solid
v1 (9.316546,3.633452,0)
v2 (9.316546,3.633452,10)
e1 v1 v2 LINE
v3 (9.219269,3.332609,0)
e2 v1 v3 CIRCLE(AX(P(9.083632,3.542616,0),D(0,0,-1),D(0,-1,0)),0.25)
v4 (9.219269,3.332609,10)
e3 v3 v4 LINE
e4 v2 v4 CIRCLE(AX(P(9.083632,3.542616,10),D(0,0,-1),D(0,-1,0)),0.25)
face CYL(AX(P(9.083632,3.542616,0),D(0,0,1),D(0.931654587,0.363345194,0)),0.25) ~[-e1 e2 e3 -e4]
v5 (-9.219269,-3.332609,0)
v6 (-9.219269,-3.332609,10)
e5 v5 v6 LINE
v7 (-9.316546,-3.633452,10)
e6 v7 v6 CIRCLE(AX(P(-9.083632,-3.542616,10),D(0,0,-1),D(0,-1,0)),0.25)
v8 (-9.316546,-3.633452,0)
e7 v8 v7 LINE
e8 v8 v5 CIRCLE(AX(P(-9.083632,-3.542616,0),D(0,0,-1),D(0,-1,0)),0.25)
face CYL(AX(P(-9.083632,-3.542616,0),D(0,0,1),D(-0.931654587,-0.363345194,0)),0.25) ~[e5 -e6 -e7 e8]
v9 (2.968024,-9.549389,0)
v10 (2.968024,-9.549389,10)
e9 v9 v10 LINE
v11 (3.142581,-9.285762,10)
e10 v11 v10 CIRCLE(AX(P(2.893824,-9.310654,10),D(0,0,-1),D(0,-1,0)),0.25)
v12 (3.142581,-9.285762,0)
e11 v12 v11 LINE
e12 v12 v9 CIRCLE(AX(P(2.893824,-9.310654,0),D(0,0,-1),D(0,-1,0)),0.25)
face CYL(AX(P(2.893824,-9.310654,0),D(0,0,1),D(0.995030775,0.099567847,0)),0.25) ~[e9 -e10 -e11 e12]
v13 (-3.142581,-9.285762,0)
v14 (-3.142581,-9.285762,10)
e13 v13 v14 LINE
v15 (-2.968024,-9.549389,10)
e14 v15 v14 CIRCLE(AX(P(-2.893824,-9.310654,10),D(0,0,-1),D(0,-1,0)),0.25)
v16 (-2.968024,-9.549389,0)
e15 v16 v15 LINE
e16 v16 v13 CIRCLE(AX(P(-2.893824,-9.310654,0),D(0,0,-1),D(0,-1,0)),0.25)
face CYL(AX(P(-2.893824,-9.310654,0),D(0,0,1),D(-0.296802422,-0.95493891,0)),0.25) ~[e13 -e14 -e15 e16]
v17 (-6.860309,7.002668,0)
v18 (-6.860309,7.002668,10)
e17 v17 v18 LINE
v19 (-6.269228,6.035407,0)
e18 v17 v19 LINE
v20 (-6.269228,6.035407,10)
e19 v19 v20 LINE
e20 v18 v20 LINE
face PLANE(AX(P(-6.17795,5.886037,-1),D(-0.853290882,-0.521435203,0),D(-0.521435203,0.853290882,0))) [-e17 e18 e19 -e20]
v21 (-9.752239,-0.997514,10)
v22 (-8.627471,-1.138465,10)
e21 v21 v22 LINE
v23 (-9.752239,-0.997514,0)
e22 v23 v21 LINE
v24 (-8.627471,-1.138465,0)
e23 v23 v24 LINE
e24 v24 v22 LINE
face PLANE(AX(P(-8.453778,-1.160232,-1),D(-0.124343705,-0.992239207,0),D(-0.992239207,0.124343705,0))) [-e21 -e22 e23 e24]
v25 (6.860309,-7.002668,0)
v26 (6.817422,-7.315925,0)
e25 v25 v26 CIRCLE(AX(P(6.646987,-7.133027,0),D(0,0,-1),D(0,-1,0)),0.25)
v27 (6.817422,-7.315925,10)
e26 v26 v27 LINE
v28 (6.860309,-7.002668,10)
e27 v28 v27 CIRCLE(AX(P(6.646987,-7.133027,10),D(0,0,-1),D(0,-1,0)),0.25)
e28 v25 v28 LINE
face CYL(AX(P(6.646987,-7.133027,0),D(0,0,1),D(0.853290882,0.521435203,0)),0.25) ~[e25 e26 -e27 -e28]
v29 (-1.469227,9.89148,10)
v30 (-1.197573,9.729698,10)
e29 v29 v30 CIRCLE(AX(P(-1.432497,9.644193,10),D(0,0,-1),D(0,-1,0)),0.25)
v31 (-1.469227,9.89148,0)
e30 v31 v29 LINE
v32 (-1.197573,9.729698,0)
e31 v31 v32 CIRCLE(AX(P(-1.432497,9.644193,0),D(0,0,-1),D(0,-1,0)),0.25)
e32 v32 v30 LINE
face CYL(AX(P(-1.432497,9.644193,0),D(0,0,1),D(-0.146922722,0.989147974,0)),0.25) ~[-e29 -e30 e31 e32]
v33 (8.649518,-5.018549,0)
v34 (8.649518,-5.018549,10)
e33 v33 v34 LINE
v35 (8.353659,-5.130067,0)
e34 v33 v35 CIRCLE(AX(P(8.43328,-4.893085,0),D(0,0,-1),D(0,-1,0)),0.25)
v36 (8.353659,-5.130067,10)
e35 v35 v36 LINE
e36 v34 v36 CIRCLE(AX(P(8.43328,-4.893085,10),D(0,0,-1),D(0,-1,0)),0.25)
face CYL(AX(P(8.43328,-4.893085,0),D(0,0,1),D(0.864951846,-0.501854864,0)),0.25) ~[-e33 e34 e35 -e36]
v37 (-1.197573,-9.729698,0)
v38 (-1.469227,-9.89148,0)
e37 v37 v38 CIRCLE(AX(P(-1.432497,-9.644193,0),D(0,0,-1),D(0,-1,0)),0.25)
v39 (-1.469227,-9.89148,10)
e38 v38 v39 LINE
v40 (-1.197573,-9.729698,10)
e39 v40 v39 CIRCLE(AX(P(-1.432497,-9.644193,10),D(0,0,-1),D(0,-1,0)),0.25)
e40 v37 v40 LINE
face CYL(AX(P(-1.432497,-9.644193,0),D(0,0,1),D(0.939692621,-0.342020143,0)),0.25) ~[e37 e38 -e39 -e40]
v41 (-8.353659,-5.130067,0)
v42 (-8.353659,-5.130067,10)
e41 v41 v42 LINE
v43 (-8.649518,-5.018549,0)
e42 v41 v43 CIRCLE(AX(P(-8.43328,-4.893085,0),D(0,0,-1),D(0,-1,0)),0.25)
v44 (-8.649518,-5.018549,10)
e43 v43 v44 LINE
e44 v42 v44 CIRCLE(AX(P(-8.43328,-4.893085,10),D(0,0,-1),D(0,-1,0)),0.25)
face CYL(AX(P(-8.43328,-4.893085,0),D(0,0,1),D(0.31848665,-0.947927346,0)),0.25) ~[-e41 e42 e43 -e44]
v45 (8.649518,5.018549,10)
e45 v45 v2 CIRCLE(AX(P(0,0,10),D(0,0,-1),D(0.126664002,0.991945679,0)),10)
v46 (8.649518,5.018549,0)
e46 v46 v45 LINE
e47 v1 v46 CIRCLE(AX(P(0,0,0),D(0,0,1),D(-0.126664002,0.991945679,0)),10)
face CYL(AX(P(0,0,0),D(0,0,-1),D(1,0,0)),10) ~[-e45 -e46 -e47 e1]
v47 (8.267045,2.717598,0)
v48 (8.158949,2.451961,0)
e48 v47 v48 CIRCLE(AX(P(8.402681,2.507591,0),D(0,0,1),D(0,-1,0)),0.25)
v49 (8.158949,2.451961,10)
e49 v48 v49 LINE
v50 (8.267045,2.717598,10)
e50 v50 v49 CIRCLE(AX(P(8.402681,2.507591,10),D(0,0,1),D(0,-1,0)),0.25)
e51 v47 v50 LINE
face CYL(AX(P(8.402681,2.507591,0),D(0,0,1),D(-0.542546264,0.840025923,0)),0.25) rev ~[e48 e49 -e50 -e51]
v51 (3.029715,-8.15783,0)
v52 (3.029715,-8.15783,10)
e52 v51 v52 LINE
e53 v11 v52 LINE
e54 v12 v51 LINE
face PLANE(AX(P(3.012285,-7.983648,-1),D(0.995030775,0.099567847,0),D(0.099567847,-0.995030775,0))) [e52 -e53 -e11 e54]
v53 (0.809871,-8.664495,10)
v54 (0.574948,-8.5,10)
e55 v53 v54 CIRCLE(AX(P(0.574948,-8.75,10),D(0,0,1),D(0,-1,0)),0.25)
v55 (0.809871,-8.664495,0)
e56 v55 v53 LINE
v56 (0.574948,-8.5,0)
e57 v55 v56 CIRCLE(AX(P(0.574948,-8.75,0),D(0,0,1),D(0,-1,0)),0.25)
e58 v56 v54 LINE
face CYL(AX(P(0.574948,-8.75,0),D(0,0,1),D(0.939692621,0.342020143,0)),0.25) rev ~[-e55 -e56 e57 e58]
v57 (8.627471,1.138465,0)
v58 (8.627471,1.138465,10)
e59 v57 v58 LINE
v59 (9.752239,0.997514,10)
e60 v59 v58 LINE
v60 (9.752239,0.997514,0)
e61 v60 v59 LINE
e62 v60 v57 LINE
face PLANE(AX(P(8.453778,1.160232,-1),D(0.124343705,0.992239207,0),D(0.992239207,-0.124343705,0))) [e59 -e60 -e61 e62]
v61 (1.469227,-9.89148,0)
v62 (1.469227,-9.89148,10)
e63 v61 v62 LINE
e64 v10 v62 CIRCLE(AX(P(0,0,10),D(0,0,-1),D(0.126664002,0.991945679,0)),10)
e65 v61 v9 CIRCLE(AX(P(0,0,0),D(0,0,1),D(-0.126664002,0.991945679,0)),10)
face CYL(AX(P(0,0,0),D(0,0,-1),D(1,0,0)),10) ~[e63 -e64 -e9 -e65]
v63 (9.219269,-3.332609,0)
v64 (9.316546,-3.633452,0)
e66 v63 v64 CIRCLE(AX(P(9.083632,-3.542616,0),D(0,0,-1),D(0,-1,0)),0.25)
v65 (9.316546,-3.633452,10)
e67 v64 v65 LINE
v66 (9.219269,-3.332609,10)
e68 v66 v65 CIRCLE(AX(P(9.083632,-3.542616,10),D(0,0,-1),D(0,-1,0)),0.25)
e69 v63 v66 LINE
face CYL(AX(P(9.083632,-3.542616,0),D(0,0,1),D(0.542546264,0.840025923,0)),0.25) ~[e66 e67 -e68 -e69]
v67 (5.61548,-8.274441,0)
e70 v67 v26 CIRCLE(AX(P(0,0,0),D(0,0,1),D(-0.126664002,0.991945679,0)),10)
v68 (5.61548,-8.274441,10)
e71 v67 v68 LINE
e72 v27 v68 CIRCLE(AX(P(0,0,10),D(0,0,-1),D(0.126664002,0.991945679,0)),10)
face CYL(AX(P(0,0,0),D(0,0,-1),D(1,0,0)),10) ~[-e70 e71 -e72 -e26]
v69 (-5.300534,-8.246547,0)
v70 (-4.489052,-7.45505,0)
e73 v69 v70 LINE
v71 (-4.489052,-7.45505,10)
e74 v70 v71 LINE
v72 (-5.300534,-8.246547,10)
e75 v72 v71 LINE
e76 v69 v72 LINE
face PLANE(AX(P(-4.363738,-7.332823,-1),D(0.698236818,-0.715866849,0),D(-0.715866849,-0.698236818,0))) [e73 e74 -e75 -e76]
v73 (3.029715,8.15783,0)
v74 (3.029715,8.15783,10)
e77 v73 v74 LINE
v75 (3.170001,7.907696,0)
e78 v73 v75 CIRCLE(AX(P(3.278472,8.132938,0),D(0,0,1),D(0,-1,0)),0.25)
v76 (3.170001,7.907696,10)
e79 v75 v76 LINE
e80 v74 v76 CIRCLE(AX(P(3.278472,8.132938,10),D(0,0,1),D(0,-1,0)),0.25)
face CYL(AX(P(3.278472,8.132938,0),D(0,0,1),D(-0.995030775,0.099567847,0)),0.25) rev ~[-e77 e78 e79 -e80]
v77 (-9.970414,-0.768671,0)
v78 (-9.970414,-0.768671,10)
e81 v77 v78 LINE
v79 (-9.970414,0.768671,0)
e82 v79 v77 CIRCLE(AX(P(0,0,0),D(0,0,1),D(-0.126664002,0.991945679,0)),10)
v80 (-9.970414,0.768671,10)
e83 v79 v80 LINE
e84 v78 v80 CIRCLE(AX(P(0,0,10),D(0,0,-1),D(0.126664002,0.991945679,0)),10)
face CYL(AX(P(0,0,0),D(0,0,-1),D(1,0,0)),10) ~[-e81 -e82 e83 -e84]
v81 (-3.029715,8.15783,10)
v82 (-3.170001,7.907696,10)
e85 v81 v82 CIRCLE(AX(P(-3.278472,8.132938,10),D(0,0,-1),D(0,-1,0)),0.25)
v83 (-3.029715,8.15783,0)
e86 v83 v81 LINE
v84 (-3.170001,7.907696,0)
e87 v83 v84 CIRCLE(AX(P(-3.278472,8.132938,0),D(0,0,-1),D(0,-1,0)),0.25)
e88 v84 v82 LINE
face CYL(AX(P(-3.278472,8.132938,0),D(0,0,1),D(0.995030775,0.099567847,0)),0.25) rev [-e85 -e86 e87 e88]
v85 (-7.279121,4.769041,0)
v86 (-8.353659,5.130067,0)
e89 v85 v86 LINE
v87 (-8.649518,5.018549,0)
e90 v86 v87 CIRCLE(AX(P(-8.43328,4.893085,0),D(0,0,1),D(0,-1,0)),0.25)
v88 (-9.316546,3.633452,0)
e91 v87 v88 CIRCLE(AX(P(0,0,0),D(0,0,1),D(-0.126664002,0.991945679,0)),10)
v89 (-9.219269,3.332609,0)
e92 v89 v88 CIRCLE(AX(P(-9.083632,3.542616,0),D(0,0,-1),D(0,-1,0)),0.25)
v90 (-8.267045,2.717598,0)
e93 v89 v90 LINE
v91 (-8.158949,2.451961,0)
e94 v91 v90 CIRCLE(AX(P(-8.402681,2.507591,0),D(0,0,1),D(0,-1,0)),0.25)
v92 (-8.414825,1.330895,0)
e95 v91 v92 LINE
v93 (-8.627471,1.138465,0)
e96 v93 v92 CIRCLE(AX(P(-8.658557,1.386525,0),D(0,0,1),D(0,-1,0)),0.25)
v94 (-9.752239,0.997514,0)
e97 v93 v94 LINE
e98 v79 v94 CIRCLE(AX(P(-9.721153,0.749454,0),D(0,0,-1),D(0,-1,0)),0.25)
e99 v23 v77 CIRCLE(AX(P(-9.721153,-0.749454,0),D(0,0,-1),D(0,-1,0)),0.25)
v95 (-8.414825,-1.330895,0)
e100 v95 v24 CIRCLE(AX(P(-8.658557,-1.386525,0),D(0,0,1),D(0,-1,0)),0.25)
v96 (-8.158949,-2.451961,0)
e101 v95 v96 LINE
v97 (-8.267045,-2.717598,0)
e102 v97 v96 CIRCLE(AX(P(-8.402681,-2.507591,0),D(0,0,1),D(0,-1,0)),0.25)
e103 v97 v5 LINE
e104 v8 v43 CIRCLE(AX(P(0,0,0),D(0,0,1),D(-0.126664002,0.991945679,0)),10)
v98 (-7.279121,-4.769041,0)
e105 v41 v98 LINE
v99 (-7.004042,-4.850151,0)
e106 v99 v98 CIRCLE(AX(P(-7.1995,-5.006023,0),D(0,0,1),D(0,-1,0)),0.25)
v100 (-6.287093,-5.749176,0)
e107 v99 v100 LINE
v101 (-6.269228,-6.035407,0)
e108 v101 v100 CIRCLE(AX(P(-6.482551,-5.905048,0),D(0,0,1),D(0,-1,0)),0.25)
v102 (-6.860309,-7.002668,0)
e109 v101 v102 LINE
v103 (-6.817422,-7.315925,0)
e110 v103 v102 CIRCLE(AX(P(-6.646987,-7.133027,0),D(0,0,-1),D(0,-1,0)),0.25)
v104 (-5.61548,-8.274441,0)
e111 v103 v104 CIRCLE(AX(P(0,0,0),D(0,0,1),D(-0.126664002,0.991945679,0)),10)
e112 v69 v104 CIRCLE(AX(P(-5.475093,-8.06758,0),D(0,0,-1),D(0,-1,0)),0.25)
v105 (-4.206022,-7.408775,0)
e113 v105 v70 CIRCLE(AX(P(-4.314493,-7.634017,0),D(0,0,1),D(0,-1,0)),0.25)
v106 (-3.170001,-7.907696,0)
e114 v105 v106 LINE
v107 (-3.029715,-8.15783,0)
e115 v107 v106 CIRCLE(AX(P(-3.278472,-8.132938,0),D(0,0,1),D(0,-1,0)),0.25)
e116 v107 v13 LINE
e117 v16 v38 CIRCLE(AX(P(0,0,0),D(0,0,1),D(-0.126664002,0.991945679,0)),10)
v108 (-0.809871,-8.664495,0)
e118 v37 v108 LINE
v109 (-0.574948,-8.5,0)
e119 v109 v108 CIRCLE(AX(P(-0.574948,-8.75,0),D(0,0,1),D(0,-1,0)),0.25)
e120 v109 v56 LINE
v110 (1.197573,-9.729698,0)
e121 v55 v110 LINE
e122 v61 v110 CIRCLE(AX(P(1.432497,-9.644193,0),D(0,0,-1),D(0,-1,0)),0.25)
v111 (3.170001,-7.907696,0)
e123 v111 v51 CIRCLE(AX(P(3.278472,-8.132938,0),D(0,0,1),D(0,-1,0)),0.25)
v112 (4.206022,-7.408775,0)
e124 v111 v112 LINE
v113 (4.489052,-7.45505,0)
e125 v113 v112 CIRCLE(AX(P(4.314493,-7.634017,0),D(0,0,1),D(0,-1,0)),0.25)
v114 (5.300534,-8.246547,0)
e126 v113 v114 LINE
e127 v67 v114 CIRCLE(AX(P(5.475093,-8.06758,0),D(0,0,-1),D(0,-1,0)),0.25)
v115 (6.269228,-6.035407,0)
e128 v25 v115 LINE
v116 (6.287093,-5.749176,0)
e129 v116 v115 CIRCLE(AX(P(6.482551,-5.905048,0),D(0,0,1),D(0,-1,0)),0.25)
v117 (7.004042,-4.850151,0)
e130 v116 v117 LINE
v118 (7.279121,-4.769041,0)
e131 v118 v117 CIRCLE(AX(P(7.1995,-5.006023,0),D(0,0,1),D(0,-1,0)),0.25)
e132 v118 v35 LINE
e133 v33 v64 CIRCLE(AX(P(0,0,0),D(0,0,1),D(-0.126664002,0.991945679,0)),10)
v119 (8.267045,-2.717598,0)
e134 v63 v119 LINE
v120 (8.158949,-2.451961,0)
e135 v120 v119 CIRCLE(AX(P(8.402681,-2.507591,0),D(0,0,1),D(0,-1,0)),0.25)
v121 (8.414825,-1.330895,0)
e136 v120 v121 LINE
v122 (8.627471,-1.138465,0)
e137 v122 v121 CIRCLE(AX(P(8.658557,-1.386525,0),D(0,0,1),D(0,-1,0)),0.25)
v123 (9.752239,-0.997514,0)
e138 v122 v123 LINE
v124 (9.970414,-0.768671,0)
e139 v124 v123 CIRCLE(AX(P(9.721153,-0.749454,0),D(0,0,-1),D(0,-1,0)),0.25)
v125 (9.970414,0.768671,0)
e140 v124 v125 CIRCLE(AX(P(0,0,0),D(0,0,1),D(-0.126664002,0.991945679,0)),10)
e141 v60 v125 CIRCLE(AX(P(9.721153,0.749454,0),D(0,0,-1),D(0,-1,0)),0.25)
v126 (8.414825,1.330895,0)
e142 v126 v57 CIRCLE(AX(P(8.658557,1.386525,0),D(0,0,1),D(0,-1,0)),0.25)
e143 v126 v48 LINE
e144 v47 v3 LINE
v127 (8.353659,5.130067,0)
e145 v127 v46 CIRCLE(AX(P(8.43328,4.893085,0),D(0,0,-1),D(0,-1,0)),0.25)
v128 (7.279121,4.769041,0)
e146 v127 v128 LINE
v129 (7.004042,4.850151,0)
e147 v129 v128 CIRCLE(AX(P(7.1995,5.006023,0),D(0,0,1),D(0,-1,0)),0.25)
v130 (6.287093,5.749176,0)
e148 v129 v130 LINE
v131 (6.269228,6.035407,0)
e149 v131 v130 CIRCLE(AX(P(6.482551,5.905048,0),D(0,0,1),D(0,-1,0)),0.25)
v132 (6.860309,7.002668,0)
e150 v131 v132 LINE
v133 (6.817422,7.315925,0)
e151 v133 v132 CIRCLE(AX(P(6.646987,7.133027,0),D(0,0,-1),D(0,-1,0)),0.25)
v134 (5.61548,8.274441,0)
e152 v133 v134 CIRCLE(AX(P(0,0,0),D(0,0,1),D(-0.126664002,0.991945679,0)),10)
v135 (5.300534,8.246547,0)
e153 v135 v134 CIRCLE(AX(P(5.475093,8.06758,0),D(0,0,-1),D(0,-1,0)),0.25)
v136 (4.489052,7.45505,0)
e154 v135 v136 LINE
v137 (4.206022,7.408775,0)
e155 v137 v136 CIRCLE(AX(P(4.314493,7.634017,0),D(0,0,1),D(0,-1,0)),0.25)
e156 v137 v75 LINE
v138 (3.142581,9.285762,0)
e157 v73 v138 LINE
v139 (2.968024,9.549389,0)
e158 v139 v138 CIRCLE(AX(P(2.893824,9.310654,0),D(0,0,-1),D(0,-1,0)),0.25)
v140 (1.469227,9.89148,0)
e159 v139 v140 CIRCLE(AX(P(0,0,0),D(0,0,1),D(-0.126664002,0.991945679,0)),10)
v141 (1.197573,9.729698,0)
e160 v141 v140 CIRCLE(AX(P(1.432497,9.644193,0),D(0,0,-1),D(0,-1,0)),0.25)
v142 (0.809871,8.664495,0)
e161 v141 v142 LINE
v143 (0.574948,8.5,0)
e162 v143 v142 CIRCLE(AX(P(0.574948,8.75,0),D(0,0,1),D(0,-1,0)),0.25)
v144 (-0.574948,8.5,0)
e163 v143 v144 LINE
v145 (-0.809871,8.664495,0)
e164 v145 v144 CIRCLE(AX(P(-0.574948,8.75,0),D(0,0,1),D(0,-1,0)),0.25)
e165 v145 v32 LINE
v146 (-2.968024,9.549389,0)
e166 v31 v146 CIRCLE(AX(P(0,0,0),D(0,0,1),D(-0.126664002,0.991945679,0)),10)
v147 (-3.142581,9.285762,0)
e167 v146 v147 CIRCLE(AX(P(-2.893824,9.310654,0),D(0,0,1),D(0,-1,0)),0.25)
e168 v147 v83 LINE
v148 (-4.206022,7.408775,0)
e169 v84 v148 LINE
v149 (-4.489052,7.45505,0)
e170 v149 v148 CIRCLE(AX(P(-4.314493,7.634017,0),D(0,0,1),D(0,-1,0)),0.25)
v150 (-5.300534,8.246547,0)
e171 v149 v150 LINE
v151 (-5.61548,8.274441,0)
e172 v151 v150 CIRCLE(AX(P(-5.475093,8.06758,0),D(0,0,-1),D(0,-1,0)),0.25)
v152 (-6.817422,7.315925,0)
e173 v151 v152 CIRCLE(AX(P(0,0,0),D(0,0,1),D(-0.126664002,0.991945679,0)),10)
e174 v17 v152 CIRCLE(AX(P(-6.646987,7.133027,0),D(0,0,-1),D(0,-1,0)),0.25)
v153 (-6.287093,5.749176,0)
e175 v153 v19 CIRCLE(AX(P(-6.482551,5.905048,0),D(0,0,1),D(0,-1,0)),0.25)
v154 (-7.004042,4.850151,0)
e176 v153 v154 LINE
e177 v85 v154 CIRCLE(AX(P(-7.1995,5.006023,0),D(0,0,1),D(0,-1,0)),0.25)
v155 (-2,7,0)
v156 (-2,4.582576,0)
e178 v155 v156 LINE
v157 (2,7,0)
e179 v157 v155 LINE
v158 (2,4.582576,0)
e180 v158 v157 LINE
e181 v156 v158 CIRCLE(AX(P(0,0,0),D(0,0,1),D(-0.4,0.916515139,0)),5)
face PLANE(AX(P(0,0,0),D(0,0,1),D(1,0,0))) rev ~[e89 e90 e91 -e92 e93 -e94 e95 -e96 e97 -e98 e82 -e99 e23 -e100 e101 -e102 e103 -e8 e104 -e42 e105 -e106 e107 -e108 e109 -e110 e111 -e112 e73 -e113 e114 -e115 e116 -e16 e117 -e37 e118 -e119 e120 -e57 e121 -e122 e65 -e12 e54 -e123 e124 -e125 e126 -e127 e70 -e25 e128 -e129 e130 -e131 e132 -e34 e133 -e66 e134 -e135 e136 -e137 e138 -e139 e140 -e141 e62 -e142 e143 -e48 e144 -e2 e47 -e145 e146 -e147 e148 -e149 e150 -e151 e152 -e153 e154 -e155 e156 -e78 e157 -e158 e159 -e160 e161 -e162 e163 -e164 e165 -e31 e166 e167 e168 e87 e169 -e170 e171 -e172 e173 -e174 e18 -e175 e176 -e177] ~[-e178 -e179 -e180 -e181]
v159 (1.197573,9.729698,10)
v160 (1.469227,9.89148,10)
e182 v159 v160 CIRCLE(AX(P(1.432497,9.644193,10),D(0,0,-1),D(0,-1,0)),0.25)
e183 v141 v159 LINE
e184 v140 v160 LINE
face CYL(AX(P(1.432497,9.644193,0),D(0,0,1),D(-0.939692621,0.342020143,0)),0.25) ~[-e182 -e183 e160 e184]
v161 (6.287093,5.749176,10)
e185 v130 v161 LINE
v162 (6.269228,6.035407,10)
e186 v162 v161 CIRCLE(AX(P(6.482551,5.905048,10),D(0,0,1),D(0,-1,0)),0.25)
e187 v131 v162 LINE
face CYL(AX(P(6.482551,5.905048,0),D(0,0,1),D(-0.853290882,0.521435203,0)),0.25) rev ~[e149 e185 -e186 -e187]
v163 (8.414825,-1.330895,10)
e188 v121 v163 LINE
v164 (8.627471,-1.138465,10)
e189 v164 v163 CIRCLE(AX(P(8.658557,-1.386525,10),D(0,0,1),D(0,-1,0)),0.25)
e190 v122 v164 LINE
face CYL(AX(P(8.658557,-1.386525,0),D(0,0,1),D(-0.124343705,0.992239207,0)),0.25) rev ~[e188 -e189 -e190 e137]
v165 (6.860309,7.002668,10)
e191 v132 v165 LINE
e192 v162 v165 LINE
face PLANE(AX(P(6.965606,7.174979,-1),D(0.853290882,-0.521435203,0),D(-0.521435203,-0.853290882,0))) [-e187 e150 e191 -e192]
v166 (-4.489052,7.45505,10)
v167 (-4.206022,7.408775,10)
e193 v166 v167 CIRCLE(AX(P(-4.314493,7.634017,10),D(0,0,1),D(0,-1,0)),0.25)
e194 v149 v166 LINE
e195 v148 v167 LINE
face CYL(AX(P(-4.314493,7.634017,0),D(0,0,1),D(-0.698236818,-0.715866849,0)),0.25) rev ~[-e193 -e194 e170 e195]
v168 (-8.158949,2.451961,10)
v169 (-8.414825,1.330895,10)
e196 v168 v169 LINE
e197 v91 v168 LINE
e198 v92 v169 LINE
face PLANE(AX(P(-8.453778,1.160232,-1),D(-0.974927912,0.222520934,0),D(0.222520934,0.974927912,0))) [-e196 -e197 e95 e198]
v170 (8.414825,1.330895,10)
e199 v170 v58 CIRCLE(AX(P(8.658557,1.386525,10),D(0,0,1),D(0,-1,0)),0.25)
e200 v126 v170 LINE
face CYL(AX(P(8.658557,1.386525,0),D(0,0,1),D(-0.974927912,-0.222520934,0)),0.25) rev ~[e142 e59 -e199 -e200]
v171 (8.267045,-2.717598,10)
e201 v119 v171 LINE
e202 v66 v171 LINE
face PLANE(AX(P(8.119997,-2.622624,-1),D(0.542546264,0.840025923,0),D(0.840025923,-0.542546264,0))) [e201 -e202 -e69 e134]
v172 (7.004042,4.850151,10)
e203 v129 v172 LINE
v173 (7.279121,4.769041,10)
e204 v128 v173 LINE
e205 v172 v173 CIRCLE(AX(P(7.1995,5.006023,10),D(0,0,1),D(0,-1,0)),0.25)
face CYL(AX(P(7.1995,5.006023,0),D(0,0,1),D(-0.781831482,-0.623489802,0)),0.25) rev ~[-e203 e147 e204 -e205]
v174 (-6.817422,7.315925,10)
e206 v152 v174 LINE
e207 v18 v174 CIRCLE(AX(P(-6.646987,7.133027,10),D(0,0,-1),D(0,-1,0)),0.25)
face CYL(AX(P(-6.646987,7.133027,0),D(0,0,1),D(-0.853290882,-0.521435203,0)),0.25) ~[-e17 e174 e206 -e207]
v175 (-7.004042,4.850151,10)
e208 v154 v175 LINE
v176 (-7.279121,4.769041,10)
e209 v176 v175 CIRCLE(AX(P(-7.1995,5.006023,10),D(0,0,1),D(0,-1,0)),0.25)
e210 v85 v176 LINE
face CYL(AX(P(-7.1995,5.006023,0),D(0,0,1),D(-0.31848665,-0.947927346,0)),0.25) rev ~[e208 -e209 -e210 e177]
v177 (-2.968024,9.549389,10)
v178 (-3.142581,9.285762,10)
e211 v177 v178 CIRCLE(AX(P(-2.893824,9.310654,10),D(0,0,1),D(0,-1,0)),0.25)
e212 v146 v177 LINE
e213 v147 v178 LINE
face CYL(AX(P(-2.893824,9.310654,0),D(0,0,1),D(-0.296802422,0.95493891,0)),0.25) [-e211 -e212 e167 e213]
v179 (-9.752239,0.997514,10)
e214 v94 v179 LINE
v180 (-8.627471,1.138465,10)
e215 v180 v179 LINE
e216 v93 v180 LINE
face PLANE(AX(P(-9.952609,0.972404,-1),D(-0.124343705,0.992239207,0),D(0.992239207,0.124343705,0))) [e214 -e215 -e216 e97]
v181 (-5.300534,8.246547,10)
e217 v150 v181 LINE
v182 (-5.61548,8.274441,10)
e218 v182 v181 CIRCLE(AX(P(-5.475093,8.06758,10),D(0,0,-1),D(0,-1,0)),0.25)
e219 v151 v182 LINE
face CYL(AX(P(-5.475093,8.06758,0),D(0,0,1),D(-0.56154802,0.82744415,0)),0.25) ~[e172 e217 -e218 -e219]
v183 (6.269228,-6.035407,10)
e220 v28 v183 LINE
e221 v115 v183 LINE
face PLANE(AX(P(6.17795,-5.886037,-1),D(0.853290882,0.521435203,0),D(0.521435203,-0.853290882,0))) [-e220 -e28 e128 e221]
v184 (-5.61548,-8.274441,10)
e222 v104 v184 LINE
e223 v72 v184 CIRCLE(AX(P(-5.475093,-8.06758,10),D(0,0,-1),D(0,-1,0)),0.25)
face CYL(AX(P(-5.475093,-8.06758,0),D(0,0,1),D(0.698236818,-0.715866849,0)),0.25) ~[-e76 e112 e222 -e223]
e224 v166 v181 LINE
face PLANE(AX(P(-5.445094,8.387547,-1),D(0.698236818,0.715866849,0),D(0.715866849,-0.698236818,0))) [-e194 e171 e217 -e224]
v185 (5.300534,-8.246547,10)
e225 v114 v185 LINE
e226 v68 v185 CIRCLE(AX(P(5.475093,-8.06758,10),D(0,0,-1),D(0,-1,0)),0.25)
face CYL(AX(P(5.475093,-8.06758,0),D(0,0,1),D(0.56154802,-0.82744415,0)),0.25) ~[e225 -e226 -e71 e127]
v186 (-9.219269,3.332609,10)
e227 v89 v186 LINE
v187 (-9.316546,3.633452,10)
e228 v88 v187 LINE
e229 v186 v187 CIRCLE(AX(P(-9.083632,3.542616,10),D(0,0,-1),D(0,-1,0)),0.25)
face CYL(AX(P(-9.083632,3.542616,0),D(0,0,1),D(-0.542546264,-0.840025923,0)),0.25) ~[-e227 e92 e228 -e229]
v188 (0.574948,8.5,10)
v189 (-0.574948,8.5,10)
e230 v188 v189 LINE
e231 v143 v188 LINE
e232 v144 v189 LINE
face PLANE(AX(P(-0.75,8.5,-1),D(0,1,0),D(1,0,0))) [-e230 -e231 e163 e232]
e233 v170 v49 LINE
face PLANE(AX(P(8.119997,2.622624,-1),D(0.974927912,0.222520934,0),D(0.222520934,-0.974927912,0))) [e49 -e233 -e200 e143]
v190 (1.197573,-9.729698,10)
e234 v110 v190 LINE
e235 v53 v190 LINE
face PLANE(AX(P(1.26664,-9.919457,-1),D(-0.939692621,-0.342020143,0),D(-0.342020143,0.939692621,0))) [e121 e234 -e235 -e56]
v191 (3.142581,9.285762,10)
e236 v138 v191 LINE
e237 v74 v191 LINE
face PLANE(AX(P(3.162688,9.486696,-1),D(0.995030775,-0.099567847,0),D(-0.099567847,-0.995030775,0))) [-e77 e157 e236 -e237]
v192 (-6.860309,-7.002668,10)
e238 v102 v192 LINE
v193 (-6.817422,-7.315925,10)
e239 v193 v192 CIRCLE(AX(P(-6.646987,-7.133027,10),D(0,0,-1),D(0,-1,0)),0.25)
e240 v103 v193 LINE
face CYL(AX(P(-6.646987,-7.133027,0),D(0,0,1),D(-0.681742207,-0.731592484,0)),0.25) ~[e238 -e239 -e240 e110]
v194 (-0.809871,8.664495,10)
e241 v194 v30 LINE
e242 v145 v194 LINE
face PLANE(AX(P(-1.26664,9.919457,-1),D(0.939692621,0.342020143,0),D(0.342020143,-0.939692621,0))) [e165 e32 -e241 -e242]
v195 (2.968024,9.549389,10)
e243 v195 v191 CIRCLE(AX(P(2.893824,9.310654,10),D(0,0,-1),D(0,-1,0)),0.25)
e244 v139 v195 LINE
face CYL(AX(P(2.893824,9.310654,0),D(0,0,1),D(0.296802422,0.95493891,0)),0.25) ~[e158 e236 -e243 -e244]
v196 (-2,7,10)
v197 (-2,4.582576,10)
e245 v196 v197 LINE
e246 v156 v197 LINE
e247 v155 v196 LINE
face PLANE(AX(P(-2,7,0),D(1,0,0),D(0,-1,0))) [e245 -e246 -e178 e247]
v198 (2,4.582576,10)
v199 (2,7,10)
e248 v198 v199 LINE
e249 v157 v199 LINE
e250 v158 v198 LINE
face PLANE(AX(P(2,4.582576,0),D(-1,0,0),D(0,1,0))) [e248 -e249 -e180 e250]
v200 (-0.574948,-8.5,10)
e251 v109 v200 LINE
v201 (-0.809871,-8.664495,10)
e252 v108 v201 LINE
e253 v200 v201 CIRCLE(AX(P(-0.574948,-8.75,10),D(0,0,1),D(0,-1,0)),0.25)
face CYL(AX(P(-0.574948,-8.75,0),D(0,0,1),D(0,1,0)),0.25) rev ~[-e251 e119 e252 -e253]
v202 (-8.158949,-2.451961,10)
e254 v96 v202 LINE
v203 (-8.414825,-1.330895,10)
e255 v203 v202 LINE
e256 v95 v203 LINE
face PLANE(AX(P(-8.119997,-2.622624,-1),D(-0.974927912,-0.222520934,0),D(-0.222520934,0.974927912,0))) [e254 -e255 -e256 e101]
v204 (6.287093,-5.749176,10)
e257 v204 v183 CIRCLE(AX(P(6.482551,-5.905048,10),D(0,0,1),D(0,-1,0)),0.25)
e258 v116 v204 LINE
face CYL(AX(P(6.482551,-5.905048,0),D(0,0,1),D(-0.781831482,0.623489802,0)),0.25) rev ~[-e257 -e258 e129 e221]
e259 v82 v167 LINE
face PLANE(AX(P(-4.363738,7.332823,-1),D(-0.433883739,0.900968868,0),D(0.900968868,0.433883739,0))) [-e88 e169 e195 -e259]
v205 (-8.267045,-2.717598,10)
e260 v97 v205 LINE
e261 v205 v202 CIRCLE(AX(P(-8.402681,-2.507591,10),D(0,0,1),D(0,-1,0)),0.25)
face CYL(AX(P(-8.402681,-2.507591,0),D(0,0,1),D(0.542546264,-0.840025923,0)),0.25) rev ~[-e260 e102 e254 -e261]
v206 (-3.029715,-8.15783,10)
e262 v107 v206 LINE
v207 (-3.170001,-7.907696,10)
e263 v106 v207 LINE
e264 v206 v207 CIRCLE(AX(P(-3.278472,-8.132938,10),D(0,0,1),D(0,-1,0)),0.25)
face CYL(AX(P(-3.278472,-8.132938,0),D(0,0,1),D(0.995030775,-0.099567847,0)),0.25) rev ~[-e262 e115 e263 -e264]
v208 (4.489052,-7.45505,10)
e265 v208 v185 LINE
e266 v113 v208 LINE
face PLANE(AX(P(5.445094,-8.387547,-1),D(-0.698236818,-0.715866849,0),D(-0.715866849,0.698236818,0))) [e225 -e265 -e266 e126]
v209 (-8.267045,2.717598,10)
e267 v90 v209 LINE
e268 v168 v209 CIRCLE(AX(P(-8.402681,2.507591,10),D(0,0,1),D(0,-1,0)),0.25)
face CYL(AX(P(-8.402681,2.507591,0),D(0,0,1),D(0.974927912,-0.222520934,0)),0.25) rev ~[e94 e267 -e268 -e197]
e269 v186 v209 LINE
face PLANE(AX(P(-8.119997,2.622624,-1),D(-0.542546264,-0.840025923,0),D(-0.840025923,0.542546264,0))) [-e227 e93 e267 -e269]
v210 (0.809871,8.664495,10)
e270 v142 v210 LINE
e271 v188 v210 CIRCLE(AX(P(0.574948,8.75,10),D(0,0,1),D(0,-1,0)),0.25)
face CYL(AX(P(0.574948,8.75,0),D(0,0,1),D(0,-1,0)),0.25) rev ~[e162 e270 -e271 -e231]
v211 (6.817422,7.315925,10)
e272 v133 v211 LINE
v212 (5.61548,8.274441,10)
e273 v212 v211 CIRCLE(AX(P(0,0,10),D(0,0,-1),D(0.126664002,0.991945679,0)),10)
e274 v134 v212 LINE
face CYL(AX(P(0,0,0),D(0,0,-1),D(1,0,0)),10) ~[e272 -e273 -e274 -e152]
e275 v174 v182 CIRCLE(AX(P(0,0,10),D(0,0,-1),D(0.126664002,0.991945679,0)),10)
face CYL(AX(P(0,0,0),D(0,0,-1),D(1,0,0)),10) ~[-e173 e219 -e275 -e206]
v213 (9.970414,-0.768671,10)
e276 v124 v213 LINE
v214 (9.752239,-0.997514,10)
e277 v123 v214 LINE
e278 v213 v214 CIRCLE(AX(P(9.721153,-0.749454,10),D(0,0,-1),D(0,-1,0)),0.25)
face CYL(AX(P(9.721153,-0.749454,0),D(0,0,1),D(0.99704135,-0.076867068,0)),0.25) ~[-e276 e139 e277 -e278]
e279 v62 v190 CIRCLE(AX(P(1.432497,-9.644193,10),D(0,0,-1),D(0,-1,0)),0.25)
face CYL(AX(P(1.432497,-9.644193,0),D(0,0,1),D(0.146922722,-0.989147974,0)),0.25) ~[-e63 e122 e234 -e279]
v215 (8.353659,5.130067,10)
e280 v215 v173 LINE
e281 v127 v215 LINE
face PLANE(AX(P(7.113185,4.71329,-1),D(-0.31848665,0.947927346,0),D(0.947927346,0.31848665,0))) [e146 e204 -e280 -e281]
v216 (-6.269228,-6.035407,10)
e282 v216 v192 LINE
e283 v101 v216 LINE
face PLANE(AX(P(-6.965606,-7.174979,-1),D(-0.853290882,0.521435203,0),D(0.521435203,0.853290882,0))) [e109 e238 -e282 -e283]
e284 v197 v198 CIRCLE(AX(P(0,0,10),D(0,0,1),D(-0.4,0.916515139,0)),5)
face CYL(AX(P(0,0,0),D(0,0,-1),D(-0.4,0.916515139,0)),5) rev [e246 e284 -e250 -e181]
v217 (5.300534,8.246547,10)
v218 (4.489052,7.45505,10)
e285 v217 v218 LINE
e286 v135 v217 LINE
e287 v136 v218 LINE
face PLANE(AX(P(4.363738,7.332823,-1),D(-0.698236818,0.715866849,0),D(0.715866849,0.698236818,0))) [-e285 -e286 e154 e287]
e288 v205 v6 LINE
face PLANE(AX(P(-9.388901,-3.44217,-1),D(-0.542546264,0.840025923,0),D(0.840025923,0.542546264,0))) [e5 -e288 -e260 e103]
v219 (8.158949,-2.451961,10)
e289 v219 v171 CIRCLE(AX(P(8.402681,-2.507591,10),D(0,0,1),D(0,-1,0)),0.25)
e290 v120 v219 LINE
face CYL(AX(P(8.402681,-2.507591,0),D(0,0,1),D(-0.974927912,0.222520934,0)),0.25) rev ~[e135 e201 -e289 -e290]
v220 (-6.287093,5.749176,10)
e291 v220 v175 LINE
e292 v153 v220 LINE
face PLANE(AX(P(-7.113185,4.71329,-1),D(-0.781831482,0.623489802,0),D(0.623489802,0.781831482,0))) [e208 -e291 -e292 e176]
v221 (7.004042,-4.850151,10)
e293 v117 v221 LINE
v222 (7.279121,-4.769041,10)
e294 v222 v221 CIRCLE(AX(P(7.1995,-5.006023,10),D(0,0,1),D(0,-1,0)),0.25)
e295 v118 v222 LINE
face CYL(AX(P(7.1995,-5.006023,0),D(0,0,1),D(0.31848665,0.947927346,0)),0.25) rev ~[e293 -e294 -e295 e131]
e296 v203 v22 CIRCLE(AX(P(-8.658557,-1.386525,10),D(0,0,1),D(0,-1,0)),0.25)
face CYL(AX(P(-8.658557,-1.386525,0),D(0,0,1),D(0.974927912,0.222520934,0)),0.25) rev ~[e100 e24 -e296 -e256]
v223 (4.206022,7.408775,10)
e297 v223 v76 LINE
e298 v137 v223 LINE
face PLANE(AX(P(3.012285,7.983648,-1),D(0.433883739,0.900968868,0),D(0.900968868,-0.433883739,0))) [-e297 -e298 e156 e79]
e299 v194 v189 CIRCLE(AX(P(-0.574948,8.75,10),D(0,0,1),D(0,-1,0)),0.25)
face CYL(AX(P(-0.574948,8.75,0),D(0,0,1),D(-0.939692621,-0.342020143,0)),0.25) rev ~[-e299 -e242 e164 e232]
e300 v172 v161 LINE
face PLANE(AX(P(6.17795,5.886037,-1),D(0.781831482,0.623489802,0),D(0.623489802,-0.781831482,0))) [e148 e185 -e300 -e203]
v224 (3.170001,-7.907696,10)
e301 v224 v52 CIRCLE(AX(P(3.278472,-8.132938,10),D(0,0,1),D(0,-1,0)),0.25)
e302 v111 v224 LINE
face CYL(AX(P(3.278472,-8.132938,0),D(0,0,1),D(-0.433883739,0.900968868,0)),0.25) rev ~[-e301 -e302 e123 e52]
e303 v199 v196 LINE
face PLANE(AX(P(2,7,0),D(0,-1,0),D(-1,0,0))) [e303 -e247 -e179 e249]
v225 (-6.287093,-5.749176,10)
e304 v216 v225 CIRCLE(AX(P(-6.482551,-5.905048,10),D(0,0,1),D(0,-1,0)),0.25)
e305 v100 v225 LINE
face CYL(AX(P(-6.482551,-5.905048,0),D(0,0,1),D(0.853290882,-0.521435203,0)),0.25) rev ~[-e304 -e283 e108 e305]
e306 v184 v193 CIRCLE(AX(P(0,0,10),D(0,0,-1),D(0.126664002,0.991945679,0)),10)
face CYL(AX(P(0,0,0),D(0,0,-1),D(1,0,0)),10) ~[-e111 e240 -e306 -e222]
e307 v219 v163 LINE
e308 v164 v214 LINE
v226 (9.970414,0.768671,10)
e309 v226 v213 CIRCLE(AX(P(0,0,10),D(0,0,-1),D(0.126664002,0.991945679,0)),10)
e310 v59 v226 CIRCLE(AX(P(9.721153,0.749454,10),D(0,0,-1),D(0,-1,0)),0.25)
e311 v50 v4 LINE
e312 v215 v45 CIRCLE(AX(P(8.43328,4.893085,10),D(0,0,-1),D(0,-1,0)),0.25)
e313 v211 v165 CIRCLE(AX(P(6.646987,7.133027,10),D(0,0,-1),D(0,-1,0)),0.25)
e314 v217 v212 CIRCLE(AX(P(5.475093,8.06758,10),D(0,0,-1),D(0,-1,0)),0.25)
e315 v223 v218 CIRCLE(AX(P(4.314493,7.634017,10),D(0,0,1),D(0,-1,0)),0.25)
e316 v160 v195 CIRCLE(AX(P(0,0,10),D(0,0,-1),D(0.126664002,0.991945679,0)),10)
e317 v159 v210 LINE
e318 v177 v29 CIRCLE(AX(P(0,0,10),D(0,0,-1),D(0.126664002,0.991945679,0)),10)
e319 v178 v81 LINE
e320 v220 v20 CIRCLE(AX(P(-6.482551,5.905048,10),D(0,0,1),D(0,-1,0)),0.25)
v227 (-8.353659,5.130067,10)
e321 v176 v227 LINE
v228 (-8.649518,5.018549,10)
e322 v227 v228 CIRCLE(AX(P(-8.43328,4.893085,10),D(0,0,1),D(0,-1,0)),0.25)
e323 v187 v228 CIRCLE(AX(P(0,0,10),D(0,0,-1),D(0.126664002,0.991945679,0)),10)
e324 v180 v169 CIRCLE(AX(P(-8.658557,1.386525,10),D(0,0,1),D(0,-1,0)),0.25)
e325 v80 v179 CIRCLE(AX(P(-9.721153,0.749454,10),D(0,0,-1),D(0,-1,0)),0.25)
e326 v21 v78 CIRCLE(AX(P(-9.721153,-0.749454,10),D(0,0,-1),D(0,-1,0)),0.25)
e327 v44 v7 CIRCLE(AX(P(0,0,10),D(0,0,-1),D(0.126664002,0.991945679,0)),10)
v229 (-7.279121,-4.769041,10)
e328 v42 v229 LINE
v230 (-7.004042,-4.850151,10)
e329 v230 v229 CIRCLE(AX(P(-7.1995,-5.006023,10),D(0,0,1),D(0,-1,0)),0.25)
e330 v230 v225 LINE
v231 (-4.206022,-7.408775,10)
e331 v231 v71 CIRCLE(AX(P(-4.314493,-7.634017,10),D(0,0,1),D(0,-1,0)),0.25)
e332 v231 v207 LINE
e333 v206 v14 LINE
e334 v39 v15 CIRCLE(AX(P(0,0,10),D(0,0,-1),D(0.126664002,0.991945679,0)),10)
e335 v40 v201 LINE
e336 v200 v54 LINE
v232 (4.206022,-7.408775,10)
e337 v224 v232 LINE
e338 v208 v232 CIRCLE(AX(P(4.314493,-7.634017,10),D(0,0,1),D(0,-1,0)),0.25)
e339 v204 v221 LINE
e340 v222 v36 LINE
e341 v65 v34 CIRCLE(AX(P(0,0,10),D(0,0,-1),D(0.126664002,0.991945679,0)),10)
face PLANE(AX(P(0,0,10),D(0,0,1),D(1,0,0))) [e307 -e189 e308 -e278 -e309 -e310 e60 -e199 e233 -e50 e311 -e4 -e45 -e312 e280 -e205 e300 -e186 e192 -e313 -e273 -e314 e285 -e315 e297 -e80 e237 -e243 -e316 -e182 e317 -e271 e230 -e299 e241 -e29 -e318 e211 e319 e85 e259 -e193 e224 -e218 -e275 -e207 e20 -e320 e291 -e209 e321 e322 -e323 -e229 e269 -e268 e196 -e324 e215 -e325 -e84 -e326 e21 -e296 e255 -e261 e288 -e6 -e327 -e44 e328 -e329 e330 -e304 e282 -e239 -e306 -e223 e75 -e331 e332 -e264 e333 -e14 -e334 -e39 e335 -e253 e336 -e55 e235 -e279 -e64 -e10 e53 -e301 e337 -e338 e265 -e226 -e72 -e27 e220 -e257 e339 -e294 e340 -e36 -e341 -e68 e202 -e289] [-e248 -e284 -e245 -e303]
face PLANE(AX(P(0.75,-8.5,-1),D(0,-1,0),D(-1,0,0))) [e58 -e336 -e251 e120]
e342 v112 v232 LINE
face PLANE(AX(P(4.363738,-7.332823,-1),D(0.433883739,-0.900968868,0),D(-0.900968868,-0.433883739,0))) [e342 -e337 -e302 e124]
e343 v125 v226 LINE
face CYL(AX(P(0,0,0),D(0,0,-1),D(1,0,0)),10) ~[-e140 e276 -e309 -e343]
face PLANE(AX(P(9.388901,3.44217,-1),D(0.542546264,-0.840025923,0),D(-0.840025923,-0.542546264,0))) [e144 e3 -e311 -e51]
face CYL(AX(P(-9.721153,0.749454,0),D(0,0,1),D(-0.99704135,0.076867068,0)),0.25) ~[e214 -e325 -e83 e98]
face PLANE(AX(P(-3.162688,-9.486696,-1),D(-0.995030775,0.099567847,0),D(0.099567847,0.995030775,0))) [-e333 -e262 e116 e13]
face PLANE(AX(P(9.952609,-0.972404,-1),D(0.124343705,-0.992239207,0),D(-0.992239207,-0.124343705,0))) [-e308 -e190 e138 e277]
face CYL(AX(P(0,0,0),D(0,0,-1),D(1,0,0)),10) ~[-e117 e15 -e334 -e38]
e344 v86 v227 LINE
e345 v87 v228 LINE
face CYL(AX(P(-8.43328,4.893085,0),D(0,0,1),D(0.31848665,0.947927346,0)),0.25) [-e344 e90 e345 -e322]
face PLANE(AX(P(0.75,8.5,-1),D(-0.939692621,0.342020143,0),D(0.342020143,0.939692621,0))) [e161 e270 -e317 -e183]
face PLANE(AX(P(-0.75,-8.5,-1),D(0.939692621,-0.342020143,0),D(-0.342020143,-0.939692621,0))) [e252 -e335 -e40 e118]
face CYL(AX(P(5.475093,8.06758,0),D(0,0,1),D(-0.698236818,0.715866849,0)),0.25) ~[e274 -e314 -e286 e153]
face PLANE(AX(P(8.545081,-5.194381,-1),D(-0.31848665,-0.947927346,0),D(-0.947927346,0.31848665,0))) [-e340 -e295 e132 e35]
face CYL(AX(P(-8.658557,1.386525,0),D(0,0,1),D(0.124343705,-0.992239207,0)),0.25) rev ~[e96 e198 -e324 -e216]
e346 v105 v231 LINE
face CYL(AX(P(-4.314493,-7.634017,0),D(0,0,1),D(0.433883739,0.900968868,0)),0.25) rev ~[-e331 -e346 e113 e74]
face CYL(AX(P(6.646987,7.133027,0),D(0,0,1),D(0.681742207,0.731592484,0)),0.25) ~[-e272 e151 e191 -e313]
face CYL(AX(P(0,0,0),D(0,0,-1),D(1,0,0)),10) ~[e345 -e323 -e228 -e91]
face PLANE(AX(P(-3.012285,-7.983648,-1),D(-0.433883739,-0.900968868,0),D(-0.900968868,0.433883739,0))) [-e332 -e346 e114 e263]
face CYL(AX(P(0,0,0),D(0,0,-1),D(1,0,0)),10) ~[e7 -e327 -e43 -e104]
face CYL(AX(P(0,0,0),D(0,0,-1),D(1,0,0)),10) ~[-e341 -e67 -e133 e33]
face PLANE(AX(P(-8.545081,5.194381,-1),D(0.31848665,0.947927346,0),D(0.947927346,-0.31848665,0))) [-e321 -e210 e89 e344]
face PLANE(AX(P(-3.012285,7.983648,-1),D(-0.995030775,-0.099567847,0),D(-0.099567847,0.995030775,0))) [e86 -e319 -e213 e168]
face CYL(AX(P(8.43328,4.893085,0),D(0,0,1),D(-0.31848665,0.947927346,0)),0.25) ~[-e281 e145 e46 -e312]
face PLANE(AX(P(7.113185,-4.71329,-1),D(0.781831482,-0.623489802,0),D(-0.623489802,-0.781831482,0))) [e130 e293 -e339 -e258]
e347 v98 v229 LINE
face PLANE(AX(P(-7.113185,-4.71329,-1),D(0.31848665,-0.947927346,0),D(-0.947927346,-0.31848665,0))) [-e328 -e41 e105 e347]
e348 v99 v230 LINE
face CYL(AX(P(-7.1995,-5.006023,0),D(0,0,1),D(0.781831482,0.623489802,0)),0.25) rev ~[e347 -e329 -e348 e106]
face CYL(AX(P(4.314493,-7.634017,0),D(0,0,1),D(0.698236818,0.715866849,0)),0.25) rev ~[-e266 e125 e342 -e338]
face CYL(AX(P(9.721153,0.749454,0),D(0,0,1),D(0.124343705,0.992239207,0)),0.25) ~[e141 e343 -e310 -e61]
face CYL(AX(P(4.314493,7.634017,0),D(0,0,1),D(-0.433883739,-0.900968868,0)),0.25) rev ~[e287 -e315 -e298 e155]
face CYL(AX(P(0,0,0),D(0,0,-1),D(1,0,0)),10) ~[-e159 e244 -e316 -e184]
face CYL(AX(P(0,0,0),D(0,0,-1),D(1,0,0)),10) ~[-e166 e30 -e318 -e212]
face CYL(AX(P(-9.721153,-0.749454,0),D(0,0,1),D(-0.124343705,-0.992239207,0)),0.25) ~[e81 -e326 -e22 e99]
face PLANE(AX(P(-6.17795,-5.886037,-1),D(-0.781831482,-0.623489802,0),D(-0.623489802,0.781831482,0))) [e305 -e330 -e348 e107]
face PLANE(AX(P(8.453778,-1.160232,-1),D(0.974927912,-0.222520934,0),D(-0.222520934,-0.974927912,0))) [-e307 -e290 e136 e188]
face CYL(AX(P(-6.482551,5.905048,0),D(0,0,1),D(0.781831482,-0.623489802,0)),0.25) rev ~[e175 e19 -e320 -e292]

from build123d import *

# Parameters (mm, degrees)
SKETCH2_R           = 10
BOSS_EXTRUDE1_DEPTH = 10
CUT_EXTRUDE1_START  = -11
CUT_EXTRUDE1_DEPTH  = 12
CIRPATTERN1_COUNT   = 14
FILLET1_R           = 0.25


with BuildPart() as part:
    # Sketch2 → Boss-Extrude1 (new body)
    with BuildSketch(Plane.XY):
        Circle(SKETCH2_R)
        with BuildLine():
            Line((2, 4.582575695), (2, 7))
            Line((2, 7), (-2, 7))
            Line((-2, 7), (-2, 4.582575695))
            ThreePointArc((-2, 4.582575695), (0, -5), (2, 4.582575695))
        make_face(mode=Mode.SUBTRACT)
    extrude(amount=BOSS_EXTRUDE1_DEPTH)

    # Sketch3 → Cut-Extrude1 (cut)
    with BuildSketch(Plane.XY.offset(10).offset(CUT_EXTRUDE1_START)):
        Polygon((-20.341084154, 62.326061337), (-1.266640021, 9.919456792), (-0.75, 8.5), (0.75, 8.5), (1.266640021, 9.919456792), (20.341084154, 62.326061337), (20.341084154, 173.86594871), (-20.341084154, 173.86594871), align=None)
    cut_extrude1 = extrude(amount=CUT_EXTRUDE1_DEPTH, mode=Mode.SUBTRACT)

    # CirPattern1: Cut-Extrude1 ×14 about axis
    cirpattern1_axis = Axis((0, 0, 0), (0, 0, 1))
    for i in range(1, CIRPATTERN1_COUNT):
        add(cut_extrude1.rotate(cirpattern1_axis, i * 360 / CIRPATTERN1_COUNT), mode=Mode.SUBTRACT)

    # Fillet1
    fillet1_edges = [part.edges().sort_by_distance(p)[0] for p in [
        (7.113184952, 4.713289704, 5),
        (6.17795025, 5.886036928, 5),
        (8.453777954, 1.160232004, 5),
        (8.119996553, 2.622623873, 5),
        (8.119996553, -2.622623873, 5),
        (8.453777954, -1.160232004, 5),
        (6.17795025, -5.886036928, 5),
        (7.113184952, -4.713289704, 5),
        (3.012285132, -7.983648182, 5),
        (4.363738433, -7.332822573, 5),
        (-0.75, -8.5, 5),
        (0.75, -8.5, 5),
        (-4.363738433, -7.332822573, 5),
        (-3.012285132, -7.983648182, 5),
        (-7.113184952, -4.713289704, 5),
        (-6.17795025, -5.886036928, 5),
        (-8.453777954, -1.160232004, 5),
        (-8.119996553, -2.622623873, 5),
        (-8.119996553, 2.622623873, 5),
        (-8.453777954, 1.160232004, 5),
        (-6.17795025, 5.886036928, 5),
        (-7.113184952, 4.713289704, 5),
        (-3.012285132, 7.983648182, 5),
        (-4.363738433, 7.332822573, 5),
        (4.363738433, 7.332822573, 5),
        (3.012285132, 7.983648182, 5),
        (0.75, 8.5, 5),
        (-0.75, 8.5, 5),
        (-1.266640021, 9.919456792, 5),
        (1.266640021, 9.919456792, 5),
        (5.445094229, 8.387547248, 5),
        (3.162687777, 9.486696265, 5),
        (-3.162687777, 9.486696265, 5),
        (-5.445094229, 8.387547248, 5),
        (-6.965606473, 7.174979196, 5),
        (-8.545080745, 5.194381104, 5),
        (-9.38890138, 3.442169501, 5),
        (-9.952609221, 0.972404078, 5),
        (-9.952609221, -0.972404078, 5),
        (-9.38890138, -3.442169501, 5),
        (-8.545080745, -5.194381104, 5),
        (-6.965606473, -7.174979196, 5),
        (-5.445094229, -8.387547248, 5),
        (-3.162687777, -9.486696265, 5),
        (-1.266640021, -9.919456792, 5),
        (1.266640021, -9.919456792, 5),
        (3.162687777, -9.486696265, 5),
        (5.445094229, -8.387547248, 5),
        (6.965606473, -7.174979196, 5),
        (8.545080745, -5.194381104, 5),
        (9.38890138, -3.442169501, 5),
        (9.952609221, -0.972404078, 5),
        (9.952609221, 0.972404078, 5),
        (9.38890138, 3.442169501, 5),
        (8.545080745, 5.194381104, 5),
        (6.965606473, 7.174979196, 5),
    ]]
    fillet(fillet1_edges, radius=FILLET1_R)


solid = part.part
